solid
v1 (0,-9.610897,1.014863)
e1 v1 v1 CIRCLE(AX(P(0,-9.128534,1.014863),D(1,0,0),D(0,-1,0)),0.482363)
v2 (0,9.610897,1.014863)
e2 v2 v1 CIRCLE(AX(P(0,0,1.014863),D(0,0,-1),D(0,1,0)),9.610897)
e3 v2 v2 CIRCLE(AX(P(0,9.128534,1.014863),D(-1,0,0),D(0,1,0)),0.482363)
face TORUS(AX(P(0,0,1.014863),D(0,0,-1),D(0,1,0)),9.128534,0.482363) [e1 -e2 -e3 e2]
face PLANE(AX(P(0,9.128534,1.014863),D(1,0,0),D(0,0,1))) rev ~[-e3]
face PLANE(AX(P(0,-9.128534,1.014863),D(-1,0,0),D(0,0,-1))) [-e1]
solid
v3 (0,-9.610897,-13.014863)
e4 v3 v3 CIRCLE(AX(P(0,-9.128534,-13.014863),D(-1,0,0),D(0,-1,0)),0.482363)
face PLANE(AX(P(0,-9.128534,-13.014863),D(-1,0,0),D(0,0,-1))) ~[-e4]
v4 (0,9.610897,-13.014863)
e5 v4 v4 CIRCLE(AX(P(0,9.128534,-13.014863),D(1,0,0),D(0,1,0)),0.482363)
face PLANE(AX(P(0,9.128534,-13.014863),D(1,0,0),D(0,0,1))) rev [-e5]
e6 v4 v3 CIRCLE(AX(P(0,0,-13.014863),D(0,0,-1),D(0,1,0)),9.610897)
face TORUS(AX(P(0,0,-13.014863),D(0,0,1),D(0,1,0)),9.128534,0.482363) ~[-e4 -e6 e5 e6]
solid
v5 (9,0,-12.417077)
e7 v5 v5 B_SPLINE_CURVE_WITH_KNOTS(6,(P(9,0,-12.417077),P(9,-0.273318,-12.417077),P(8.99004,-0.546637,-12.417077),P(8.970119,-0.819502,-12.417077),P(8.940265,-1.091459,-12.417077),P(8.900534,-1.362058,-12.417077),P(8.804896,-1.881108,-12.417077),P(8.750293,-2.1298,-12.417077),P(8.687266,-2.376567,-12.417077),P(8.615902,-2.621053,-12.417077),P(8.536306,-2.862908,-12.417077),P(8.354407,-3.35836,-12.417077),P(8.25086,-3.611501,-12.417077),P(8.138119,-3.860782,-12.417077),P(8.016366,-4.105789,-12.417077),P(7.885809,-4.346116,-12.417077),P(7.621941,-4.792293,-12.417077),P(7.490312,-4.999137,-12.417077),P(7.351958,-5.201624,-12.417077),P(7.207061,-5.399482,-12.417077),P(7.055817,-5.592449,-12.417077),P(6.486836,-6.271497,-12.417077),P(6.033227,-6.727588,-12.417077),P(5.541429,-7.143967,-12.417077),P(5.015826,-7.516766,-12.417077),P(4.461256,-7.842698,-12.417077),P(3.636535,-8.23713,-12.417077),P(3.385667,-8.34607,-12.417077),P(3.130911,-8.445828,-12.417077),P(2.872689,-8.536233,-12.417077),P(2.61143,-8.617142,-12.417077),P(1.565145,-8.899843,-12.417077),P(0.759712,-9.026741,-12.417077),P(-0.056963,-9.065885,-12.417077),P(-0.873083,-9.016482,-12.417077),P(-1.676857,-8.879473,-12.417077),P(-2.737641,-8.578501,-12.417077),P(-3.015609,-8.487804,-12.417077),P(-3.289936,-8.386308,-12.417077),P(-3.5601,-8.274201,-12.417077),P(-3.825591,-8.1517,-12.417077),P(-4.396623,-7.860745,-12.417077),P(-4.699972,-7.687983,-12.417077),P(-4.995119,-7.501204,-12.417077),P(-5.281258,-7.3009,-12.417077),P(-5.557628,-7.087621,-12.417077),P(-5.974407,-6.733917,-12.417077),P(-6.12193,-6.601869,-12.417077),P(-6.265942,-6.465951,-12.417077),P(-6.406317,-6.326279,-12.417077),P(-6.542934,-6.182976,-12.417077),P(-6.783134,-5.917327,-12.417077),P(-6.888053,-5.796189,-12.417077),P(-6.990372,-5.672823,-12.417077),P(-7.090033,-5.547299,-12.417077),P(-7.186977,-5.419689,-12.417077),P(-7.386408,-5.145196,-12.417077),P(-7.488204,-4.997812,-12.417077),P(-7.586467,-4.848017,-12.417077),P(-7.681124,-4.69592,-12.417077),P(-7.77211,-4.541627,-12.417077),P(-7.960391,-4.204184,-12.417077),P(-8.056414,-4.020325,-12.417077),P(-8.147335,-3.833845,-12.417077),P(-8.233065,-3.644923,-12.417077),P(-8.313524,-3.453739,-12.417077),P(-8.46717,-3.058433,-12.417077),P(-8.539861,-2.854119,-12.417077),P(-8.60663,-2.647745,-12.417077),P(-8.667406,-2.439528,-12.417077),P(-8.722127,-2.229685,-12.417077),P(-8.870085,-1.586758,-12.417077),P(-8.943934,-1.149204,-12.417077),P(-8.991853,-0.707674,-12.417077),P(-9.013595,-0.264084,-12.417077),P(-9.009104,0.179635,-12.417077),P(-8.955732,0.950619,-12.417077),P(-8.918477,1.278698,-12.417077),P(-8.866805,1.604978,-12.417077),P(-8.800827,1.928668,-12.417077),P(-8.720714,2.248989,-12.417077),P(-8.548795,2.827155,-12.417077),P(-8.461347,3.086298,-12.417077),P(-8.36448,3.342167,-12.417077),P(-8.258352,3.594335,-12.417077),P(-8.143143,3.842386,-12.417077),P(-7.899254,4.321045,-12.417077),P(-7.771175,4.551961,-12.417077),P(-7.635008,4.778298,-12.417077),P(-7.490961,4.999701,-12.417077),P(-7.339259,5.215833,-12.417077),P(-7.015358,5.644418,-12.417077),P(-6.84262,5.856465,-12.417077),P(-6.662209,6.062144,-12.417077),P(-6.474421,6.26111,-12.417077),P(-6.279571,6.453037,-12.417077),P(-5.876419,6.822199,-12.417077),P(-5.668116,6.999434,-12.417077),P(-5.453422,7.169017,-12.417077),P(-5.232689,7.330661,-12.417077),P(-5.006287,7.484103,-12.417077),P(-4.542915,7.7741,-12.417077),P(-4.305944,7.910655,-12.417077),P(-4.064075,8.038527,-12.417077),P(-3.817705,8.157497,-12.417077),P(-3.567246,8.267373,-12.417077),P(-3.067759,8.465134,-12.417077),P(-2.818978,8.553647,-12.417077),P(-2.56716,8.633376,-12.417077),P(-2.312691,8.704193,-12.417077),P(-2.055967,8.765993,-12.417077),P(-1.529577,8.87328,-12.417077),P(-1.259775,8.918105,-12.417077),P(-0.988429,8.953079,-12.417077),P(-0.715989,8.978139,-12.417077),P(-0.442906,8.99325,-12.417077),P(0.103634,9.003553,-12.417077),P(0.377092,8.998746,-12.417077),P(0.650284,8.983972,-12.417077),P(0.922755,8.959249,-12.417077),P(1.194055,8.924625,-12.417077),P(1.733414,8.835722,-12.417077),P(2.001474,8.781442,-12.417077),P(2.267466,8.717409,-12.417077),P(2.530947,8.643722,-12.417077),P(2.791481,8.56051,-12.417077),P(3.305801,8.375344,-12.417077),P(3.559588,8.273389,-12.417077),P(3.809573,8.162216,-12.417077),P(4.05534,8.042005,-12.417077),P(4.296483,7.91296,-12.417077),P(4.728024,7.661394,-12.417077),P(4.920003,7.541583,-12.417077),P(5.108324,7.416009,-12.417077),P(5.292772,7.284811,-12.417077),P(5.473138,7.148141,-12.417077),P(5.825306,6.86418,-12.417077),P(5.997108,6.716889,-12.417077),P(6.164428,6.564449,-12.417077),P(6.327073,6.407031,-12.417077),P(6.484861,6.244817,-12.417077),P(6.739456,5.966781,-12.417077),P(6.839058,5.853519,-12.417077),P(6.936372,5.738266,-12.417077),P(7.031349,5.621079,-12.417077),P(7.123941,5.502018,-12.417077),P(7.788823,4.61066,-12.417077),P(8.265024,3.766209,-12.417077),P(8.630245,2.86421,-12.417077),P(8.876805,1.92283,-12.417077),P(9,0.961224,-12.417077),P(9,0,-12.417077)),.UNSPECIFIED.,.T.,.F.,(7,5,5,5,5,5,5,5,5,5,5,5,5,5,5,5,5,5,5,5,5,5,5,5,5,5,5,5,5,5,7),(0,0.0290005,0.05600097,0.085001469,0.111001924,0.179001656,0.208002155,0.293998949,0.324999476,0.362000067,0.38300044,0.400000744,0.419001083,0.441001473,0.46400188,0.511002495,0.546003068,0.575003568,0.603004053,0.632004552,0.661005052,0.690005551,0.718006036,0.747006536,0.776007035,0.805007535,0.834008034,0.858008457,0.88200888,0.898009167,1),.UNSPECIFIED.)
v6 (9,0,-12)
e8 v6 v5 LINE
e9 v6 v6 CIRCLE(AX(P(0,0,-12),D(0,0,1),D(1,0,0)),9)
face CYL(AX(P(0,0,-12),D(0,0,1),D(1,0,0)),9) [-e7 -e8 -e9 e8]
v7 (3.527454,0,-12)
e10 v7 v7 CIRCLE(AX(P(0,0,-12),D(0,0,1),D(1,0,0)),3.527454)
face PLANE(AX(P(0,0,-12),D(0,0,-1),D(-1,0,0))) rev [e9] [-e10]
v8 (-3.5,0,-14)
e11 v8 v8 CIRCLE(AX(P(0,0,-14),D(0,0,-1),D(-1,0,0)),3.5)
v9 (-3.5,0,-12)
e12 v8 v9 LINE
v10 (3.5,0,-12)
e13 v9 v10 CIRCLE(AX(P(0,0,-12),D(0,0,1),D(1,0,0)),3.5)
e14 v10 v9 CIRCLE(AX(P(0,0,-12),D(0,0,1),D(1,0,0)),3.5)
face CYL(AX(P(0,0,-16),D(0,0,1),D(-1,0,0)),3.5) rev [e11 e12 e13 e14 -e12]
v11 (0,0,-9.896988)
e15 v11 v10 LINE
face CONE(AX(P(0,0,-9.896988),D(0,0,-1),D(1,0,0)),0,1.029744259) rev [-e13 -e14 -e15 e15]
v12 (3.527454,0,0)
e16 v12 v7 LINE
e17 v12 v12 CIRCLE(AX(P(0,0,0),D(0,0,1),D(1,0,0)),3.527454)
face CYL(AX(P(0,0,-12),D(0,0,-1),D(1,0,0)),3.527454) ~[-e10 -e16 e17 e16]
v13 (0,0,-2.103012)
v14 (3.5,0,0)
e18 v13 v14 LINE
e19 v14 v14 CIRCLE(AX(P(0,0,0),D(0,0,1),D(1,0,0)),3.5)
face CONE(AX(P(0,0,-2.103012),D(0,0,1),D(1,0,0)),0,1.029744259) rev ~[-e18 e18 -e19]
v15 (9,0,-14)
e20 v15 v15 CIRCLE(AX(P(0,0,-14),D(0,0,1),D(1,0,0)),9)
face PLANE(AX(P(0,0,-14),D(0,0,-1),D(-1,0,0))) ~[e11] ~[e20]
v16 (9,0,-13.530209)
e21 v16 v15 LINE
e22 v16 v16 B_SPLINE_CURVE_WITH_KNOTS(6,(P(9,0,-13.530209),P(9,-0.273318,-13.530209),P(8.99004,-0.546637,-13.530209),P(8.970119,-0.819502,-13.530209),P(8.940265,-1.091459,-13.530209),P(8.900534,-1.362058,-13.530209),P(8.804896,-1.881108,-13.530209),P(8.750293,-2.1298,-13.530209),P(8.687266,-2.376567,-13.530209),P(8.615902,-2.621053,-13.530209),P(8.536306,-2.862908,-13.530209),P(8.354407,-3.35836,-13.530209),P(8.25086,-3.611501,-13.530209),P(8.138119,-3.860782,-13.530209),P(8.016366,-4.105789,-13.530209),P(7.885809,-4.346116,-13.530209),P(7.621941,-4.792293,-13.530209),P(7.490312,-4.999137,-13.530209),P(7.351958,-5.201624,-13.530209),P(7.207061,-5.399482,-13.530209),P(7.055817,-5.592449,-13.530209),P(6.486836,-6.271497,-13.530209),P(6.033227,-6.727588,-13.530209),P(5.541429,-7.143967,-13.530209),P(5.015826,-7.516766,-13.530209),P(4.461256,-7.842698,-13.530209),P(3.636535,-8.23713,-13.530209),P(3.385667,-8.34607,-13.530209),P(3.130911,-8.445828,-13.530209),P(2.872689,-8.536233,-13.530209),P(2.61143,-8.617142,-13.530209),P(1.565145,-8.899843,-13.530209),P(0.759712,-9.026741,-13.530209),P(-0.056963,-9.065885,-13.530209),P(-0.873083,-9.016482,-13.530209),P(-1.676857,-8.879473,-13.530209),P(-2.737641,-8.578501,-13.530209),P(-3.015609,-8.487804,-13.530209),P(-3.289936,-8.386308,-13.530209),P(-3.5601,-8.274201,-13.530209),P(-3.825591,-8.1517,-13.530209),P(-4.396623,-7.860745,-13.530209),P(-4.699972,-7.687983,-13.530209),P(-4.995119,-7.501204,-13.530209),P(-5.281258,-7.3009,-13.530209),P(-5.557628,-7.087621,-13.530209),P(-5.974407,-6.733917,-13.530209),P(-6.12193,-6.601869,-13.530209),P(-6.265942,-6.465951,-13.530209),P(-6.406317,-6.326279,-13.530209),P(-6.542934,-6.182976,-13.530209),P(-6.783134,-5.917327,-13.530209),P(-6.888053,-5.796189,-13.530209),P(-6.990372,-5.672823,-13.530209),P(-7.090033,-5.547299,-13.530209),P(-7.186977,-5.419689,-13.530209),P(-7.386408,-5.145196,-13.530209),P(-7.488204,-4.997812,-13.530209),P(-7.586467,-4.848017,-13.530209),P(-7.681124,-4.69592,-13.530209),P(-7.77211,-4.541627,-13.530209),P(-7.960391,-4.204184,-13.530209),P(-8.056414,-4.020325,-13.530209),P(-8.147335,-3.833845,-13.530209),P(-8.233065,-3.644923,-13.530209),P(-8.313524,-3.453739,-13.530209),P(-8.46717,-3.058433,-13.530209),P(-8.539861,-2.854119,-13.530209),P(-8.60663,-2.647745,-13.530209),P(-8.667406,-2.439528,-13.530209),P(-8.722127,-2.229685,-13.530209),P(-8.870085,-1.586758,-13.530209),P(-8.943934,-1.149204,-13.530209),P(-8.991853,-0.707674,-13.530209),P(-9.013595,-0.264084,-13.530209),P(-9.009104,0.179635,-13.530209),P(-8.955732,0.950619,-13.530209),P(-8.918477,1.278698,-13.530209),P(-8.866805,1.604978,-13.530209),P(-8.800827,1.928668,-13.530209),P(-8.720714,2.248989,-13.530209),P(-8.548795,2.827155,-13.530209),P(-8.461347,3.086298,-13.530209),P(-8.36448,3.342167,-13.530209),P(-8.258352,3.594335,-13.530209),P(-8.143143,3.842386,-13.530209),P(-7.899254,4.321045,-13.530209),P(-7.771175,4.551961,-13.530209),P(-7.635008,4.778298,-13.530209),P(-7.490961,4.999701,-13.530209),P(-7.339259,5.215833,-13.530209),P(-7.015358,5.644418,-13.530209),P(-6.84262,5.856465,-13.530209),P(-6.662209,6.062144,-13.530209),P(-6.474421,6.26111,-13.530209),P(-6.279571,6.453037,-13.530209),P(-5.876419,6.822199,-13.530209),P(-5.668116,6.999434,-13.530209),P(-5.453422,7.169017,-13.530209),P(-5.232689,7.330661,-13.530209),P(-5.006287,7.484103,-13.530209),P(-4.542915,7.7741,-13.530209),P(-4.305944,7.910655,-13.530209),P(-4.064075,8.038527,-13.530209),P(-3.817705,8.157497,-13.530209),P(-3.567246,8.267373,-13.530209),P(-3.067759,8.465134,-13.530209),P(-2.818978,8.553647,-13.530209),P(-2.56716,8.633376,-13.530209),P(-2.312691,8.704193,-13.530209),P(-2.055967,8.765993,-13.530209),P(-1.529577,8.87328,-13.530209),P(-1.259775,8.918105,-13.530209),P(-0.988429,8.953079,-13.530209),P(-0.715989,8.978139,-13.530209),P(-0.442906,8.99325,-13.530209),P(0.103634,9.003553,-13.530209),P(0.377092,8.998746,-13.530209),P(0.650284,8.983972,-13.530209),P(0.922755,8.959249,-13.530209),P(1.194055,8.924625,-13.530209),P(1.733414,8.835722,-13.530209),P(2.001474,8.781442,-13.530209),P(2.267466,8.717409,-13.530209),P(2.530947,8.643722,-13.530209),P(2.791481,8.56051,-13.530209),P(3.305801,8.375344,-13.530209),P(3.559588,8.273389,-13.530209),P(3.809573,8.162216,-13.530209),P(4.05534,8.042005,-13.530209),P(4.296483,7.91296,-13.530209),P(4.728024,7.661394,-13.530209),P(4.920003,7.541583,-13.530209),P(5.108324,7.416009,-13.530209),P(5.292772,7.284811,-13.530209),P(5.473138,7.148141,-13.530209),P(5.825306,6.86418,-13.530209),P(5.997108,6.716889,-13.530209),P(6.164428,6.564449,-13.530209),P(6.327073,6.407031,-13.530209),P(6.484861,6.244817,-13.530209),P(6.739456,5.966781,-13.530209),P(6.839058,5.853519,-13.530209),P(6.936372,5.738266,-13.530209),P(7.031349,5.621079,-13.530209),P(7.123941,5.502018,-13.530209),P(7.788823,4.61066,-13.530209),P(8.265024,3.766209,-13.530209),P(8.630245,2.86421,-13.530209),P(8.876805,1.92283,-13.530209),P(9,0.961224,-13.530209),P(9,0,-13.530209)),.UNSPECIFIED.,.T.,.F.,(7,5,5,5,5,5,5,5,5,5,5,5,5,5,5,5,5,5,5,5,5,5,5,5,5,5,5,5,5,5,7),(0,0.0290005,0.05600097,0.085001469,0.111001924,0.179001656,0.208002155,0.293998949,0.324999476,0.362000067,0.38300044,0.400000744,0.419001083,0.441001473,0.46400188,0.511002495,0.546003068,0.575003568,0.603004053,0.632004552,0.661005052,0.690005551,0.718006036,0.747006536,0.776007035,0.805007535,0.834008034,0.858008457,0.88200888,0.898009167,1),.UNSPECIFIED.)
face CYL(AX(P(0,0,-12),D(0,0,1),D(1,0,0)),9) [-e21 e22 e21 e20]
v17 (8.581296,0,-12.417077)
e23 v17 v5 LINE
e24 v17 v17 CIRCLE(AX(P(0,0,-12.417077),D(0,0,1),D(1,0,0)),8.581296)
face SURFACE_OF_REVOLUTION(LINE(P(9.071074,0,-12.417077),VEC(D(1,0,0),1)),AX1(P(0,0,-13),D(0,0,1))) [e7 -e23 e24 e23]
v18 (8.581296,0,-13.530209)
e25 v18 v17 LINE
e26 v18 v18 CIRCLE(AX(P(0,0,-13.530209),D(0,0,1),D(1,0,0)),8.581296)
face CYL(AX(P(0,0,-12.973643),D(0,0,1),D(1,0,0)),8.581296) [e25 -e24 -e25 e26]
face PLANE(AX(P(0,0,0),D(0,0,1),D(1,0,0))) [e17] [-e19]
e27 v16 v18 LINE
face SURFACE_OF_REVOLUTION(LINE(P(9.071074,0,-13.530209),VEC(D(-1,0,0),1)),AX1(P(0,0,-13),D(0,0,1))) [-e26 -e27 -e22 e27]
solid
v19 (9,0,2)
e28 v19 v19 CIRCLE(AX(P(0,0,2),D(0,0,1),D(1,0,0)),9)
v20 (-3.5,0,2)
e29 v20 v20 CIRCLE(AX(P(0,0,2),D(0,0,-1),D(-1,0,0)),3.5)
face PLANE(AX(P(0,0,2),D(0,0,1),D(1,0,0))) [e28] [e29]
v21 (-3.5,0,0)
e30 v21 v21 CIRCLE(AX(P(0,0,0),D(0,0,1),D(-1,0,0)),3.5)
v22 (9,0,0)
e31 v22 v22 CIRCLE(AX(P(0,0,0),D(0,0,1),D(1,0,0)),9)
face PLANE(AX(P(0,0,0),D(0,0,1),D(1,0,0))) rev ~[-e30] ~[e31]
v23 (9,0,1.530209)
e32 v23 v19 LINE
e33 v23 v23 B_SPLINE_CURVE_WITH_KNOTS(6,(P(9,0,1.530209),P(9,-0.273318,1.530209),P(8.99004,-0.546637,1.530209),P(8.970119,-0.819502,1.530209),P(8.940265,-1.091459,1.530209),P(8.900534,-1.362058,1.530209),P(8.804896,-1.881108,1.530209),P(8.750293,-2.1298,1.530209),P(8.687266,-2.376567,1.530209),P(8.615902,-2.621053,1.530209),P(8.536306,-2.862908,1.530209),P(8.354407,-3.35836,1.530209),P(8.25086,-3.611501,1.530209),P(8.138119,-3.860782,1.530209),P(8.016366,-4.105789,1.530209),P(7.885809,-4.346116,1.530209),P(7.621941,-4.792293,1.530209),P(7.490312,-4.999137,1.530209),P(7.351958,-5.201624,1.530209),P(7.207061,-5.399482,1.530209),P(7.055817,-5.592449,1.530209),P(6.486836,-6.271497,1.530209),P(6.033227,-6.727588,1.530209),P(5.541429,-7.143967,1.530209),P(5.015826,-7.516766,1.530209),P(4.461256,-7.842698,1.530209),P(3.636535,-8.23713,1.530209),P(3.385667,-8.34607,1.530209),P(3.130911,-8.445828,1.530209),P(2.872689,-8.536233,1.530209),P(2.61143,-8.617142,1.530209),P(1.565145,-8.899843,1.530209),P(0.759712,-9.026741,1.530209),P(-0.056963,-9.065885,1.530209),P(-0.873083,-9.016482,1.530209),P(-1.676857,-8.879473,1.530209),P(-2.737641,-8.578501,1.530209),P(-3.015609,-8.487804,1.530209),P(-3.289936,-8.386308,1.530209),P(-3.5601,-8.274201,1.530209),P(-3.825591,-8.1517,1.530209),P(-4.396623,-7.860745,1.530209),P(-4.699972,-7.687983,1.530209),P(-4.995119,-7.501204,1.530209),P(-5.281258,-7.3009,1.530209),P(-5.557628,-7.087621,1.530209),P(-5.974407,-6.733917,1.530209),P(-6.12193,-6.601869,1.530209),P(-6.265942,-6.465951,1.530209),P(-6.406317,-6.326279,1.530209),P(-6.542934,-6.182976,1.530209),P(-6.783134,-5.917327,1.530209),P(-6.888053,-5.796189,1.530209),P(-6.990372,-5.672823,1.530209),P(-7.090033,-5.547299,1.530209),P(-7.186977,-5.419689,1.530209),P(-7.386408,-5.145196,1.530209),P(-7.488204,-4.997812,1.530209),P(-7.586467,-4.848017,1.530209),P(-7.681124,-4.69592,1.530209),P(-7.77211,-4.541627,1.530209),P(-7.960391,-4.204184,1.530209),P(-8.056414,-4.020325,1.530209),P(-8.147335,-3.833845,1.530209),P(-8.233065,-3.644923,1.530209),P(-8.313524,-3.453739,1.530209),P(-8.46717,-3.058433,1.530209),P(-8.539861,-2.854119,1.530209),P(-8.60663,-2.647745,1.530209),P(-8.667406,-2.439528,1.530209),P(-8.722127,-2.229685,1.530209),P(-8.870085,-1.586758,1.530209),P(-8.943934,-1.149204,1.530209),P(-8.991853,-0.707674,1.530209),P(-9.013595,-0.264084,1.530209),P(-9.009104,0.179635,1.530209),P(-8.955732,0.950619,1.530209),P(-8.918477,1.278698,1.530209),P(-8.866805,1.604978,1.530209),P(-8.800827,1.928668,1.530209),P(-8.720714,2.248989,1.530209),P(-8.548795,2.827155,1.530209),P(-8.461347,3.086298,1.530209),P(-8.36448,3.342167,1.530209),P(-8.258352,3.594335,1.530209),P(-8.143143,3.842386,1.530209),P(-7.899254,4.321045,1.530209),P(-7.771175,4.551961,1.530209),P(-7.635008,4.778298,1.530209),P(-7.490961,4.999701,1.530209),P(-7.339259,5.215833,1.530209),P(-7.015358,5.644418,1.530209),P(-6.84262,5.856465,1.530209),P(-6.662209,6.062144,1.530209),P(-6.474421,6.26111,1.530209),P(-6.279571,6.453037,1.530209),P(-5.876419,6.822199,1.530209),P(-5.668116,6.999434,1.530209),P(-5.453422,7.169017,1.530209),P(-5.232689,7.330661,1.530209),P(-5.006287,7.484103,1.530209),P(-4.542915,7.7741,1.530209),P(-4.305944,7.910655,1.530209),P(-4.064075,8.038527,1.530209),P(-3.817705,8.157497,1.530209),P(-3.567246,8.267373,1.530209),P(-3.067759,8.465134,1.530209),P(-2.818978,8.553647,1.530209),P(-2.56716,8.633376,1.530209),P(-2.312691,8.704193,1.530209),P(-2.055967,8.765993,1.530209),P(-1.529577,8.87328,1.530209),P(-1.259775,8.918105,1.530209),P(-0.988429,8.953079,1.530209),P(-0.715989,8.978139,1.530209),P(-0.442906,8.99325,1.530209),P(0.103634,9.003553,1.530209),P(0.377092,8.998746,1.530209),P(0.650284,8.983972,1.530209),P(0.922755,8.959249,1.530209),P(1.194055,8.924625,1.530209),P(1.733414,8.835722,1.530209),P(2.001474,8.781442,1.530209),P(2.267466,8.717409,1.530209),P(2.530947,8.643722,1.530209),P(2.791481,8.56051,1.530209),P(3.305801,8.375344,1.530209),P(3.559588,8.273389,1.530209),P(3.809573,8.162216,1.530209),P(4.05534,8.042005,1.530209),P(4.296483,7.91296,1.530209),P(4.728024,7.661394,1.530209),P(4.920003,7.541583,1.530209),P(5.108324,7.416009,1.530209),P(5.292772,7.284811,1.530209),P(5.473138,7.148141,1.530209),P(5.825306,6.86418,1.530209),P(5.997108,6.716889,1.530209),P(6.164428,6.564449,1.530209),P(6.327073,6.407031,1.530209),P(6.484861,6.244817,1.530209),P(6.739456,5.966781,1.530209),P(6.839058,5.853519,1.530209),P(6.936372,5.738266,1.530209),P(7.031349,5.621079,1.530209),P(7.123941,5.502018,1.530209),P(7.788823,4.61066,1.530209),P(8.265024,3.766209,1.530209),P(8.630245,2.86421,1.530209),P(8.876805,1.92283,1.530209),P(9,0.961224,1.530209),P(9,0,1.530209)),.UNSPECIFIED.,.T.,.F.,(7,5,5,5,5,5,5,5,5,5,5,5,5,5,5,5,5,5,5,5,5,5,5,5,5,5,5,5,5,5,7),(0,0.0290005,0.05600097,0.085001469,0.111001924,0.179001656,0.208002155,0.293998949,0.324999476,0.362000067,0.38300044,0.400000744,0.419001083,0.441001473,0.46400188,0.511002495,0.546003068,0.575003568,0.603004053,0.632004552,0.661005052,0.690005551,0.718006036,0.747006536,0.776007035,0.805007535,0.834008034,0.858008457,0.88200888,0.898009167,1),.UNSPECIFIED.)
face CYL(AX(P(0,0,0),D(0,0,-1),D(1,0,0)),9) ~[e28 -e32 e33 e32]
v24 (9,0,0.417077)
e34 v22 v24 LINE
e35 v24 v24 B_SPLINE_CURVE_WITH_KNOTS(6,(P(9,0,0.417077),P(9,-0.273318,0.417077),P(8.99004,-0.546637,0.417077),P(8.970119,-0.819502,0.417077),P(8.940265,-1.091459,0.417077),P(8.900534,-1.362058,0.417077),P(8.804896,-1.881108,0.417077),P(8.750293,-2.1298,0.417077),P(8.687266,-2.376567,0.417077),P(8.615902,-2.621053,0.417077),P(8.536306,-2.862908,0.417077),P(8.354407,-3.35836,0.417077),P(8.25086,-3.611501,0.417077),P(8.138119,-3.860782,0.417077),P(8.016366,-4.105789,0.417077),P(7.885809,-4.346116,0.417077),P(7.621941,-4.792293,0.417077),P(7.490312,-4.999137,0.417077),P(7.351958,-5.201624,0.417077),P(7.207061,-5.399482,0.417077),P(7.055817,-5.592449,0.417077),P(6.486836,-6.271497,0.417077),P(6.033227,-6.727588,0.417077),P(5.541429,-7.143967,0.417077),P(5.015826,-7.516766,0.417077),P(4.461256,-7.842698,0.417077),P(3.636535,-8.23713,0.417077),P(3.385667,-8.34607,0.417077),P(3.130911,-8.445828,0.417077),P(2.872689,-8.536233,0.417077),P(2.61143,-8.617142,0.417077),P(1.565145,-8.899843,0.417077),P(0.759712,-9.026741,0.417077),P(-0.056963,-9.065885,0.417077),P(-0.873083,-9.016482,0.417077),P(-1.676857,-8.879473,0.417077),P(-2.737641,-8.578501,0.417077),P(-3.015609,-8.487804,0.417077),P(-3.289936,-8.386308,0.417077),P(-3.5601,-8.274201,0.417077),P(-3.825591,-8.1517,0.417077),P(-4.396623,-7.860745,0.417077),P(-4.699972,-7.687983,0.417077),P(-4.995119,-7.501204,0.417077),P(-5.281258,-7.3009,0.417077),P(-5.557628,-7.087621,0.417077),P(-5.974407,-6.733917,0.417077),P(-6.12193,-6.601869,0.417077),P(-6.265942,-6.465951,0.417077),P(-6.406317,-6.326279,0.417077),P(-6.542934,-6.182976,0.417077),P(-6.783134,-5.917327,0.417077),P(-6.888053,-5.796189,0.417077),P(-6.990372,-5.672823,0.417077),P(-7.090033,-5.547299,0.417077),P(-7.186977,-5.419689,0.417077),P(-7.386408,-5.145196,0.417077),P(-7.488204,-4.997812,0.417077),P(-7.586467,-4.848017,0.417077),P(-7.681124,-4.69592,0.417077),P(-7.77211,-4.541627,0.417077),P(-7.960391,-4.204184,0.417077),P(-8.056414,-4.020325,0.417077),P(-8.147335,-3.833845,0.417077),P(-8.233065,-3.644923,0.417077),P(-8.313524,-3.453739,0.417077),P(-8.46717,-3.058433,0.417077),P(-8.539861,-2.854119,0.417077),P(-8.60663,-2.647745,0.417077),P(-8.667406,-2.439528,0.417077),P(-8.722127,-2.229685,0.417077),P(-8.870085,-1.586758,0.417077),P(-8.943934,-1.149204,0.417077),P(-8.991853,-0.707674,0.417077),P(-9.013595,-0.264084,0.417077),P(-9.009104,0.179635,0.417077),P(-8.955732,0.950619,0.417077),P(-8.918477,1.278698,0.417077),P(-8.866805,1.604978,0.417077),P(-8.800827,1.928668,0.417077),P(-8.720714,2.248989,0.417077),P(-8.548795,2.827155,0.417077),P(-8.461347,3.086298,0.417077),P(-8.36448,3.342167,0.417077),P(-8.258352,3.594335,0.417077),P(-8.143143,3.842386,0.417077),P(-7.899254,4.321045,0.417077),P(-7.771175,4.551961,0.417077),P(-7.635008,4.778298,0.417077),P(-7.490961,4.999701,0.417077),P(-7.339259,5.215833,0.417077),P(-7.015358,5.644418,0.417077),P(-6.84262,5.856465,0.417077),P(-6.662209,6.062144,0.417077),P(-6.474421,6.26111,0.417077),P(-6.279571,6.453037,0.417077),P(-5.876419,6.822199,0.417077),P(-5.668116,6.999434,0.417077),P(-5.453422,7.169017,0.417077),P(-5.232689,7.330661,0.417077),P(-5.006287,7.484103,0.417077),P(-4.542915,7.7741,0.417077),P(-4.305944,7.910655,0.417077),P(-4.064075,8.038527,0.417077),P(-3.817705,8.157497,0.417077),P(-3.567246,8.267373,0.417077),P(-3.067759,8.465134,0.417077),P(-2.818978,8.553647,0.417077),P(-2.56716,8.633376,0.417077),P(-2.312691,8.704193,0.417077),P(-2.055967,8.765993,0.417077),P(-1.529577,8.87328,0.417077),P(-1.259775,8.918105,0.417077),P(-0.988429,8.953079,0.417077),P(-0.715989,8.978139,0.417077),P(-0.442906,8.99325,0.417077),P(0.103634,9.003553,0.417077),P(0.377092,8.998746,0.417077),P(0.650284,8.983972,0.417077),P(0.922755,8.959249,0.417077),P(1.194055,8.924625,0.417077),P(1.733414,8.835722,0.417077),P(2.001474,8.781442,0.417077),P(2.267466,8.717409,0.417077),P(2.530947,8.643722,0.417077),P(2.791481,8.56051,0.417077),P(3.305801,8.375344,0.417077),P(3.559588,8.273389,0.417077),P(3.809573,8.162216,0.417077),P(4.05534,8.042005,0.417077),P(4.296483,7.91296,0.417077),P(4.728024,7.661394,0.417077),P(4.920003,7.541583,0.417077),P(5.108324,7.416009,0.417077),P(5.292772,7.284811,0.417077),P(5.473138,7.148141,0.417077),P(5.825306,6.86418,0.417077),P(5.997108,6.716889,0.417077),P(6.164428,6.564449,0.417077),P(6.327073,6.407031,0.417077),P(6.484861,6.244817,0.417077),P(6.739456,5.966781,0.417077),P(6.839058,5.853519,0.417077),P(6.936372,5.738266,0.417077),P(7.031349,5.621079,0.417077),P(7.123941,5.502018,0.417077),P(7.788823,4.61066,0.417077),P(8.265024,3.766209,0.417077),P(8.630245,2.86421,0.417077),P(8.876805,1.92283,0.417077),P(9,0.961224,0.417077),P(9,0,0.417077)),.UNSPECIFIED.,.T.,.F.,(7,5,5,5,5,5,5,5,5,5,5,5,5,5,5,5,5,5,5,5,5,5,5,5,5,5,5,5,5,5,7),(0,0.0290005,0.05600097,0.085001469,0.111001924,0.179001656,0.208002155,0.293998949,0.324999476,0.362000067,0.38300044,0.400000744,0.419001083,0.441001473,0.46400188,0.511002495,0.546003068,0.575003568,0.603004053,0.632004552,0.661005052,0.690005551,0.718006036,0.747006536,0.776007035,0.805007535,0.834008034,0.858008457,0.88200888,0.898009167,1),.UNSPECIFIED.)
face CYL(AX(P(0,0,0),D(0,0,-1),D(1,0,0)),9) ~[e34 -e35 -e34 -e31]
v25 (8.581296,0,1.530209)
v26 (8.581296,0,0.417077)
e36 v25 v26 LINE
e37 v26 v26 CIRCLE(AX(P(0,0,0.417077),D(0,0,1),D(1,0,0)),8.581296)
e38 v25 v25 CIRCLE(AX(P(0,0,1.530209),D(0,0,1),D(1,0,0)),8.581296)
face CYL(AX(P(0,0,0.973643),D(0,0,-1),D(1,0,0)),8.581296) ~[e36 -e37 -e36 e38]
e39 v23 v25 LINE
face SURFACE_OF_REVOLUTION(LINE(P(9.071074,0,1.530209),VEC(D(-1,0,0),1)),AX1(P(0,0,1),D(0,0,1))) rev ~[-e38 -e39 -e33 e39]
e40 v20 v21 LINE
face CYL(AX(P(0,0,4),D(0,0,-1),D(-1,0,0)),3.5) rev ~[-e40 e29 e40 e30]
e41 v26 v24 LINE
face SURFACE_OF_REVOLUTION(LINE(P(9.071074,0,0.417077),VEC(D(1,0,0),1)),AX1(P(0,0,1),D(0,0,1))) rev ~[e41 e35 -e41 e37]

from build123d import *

# Parameters (mm, degrees)
F0_R        = 9
F1_DEPTH    = 2
F2_W        = 0.9795567021
F2_H        = 1.1131323408
F6_R        = 0.4823630939
F9_R        = 3.5274543141
F10_DEPTH   = 6
F13_D       = 7
F13_DEPTH   = 2
F13_TIP     = 2.1030121666
F13_2_D     = 7
F13_2_DEPTH = 2
F13_2_TIP   = 2.1030121666


with BuildPart() as f1:
    # F0 (on Top) → F1 (new body)
    with BuildSketch(Plane.XY):
        Circle(F0_R)
    extrude(amount=F1_DEPTH)

    # F5: sweep along a path in F4
    with BuildLine(Plane.XY.offset(1)) as f5_path:
        CenterArc((0, 0), 9, 0, 360)
    # F2 (on Right) → F5 (sweep, cut)
    with BuildSketch(Plane.YZ):
        with Locations((9.0710739605, 0.9736432694)):
            Rectangle(F2_W, F2_H)
    sweep(path=f5_path.line, mode=Mode.SUBTRACT)

    # F13
    with Locations(Plane.XY.offset(2)):
        with Locations((0, 0)):
            Hole(F13_D / 2, depth=F13_DEPTH)
            with Locations((0, 0, -(F13_DEPTH + F13_TIP / 2))):  # 118° drill point
                Cone(0, F13_D / 2, F13_TIP, mode=Mode.SUBTRACT)


with BuildPart() as f8:
    # F8: sweep along a path in F7
    with BuildLine(Plane.XY.offset(1)) as f8_path:
        ThreePointArc((0, 9), (9, 0), (0, -9))
    # F6 (on Right) → F8 (sweep)
    with BuildSketch(Plane.YZ):
        with Locations((9.1285342351, 1.0148627916)):
            Circle(F6_R)
    sweep(path=f8_path.line)


with BuildPart() as f10:
    # F9 (on Top) → F10 (new body)
    with BuildSketch(Plane.XY):
        Circle(F9_R)
    extrude(amount=-F10_DEPTH)

    # F13#2
    with Locations(Plane.XY.offset(2)):
        with Locations((0, 0)):
            Hole(F13_2_D / 2, depth=F13_2_DEPTH)
            with Locations((0, 0, -(F13_2_DEPTH + F13_2_TIP / 2))):  # 118° drill point
                Cone(0, F13_2_D / 2, F13_2_TIP, mode=Mode.SUBTRACT)

    # F14: F10, F8, F1 across plane


with BuildPart() as f10_1:
    add(f10.part)
    add(f10.part.mirror(Plane(origin=(0, 0, -6), x_dir=(1, 0, 0), z_dir=(0, 0, -1))))
    add(f8.part.mirror(Plane(origin=(0, 0, -6), x_dir=(1, 0, 0), z_dir=(0, 0, -1))))
    add(f1.part.mirror(Plane(origin=(0, 0, -6), x_dir=(1, 0, 0), z_dir=(0, 0, -1))))


solid = Compound([f1.part, f8.part, f10_1.part])
